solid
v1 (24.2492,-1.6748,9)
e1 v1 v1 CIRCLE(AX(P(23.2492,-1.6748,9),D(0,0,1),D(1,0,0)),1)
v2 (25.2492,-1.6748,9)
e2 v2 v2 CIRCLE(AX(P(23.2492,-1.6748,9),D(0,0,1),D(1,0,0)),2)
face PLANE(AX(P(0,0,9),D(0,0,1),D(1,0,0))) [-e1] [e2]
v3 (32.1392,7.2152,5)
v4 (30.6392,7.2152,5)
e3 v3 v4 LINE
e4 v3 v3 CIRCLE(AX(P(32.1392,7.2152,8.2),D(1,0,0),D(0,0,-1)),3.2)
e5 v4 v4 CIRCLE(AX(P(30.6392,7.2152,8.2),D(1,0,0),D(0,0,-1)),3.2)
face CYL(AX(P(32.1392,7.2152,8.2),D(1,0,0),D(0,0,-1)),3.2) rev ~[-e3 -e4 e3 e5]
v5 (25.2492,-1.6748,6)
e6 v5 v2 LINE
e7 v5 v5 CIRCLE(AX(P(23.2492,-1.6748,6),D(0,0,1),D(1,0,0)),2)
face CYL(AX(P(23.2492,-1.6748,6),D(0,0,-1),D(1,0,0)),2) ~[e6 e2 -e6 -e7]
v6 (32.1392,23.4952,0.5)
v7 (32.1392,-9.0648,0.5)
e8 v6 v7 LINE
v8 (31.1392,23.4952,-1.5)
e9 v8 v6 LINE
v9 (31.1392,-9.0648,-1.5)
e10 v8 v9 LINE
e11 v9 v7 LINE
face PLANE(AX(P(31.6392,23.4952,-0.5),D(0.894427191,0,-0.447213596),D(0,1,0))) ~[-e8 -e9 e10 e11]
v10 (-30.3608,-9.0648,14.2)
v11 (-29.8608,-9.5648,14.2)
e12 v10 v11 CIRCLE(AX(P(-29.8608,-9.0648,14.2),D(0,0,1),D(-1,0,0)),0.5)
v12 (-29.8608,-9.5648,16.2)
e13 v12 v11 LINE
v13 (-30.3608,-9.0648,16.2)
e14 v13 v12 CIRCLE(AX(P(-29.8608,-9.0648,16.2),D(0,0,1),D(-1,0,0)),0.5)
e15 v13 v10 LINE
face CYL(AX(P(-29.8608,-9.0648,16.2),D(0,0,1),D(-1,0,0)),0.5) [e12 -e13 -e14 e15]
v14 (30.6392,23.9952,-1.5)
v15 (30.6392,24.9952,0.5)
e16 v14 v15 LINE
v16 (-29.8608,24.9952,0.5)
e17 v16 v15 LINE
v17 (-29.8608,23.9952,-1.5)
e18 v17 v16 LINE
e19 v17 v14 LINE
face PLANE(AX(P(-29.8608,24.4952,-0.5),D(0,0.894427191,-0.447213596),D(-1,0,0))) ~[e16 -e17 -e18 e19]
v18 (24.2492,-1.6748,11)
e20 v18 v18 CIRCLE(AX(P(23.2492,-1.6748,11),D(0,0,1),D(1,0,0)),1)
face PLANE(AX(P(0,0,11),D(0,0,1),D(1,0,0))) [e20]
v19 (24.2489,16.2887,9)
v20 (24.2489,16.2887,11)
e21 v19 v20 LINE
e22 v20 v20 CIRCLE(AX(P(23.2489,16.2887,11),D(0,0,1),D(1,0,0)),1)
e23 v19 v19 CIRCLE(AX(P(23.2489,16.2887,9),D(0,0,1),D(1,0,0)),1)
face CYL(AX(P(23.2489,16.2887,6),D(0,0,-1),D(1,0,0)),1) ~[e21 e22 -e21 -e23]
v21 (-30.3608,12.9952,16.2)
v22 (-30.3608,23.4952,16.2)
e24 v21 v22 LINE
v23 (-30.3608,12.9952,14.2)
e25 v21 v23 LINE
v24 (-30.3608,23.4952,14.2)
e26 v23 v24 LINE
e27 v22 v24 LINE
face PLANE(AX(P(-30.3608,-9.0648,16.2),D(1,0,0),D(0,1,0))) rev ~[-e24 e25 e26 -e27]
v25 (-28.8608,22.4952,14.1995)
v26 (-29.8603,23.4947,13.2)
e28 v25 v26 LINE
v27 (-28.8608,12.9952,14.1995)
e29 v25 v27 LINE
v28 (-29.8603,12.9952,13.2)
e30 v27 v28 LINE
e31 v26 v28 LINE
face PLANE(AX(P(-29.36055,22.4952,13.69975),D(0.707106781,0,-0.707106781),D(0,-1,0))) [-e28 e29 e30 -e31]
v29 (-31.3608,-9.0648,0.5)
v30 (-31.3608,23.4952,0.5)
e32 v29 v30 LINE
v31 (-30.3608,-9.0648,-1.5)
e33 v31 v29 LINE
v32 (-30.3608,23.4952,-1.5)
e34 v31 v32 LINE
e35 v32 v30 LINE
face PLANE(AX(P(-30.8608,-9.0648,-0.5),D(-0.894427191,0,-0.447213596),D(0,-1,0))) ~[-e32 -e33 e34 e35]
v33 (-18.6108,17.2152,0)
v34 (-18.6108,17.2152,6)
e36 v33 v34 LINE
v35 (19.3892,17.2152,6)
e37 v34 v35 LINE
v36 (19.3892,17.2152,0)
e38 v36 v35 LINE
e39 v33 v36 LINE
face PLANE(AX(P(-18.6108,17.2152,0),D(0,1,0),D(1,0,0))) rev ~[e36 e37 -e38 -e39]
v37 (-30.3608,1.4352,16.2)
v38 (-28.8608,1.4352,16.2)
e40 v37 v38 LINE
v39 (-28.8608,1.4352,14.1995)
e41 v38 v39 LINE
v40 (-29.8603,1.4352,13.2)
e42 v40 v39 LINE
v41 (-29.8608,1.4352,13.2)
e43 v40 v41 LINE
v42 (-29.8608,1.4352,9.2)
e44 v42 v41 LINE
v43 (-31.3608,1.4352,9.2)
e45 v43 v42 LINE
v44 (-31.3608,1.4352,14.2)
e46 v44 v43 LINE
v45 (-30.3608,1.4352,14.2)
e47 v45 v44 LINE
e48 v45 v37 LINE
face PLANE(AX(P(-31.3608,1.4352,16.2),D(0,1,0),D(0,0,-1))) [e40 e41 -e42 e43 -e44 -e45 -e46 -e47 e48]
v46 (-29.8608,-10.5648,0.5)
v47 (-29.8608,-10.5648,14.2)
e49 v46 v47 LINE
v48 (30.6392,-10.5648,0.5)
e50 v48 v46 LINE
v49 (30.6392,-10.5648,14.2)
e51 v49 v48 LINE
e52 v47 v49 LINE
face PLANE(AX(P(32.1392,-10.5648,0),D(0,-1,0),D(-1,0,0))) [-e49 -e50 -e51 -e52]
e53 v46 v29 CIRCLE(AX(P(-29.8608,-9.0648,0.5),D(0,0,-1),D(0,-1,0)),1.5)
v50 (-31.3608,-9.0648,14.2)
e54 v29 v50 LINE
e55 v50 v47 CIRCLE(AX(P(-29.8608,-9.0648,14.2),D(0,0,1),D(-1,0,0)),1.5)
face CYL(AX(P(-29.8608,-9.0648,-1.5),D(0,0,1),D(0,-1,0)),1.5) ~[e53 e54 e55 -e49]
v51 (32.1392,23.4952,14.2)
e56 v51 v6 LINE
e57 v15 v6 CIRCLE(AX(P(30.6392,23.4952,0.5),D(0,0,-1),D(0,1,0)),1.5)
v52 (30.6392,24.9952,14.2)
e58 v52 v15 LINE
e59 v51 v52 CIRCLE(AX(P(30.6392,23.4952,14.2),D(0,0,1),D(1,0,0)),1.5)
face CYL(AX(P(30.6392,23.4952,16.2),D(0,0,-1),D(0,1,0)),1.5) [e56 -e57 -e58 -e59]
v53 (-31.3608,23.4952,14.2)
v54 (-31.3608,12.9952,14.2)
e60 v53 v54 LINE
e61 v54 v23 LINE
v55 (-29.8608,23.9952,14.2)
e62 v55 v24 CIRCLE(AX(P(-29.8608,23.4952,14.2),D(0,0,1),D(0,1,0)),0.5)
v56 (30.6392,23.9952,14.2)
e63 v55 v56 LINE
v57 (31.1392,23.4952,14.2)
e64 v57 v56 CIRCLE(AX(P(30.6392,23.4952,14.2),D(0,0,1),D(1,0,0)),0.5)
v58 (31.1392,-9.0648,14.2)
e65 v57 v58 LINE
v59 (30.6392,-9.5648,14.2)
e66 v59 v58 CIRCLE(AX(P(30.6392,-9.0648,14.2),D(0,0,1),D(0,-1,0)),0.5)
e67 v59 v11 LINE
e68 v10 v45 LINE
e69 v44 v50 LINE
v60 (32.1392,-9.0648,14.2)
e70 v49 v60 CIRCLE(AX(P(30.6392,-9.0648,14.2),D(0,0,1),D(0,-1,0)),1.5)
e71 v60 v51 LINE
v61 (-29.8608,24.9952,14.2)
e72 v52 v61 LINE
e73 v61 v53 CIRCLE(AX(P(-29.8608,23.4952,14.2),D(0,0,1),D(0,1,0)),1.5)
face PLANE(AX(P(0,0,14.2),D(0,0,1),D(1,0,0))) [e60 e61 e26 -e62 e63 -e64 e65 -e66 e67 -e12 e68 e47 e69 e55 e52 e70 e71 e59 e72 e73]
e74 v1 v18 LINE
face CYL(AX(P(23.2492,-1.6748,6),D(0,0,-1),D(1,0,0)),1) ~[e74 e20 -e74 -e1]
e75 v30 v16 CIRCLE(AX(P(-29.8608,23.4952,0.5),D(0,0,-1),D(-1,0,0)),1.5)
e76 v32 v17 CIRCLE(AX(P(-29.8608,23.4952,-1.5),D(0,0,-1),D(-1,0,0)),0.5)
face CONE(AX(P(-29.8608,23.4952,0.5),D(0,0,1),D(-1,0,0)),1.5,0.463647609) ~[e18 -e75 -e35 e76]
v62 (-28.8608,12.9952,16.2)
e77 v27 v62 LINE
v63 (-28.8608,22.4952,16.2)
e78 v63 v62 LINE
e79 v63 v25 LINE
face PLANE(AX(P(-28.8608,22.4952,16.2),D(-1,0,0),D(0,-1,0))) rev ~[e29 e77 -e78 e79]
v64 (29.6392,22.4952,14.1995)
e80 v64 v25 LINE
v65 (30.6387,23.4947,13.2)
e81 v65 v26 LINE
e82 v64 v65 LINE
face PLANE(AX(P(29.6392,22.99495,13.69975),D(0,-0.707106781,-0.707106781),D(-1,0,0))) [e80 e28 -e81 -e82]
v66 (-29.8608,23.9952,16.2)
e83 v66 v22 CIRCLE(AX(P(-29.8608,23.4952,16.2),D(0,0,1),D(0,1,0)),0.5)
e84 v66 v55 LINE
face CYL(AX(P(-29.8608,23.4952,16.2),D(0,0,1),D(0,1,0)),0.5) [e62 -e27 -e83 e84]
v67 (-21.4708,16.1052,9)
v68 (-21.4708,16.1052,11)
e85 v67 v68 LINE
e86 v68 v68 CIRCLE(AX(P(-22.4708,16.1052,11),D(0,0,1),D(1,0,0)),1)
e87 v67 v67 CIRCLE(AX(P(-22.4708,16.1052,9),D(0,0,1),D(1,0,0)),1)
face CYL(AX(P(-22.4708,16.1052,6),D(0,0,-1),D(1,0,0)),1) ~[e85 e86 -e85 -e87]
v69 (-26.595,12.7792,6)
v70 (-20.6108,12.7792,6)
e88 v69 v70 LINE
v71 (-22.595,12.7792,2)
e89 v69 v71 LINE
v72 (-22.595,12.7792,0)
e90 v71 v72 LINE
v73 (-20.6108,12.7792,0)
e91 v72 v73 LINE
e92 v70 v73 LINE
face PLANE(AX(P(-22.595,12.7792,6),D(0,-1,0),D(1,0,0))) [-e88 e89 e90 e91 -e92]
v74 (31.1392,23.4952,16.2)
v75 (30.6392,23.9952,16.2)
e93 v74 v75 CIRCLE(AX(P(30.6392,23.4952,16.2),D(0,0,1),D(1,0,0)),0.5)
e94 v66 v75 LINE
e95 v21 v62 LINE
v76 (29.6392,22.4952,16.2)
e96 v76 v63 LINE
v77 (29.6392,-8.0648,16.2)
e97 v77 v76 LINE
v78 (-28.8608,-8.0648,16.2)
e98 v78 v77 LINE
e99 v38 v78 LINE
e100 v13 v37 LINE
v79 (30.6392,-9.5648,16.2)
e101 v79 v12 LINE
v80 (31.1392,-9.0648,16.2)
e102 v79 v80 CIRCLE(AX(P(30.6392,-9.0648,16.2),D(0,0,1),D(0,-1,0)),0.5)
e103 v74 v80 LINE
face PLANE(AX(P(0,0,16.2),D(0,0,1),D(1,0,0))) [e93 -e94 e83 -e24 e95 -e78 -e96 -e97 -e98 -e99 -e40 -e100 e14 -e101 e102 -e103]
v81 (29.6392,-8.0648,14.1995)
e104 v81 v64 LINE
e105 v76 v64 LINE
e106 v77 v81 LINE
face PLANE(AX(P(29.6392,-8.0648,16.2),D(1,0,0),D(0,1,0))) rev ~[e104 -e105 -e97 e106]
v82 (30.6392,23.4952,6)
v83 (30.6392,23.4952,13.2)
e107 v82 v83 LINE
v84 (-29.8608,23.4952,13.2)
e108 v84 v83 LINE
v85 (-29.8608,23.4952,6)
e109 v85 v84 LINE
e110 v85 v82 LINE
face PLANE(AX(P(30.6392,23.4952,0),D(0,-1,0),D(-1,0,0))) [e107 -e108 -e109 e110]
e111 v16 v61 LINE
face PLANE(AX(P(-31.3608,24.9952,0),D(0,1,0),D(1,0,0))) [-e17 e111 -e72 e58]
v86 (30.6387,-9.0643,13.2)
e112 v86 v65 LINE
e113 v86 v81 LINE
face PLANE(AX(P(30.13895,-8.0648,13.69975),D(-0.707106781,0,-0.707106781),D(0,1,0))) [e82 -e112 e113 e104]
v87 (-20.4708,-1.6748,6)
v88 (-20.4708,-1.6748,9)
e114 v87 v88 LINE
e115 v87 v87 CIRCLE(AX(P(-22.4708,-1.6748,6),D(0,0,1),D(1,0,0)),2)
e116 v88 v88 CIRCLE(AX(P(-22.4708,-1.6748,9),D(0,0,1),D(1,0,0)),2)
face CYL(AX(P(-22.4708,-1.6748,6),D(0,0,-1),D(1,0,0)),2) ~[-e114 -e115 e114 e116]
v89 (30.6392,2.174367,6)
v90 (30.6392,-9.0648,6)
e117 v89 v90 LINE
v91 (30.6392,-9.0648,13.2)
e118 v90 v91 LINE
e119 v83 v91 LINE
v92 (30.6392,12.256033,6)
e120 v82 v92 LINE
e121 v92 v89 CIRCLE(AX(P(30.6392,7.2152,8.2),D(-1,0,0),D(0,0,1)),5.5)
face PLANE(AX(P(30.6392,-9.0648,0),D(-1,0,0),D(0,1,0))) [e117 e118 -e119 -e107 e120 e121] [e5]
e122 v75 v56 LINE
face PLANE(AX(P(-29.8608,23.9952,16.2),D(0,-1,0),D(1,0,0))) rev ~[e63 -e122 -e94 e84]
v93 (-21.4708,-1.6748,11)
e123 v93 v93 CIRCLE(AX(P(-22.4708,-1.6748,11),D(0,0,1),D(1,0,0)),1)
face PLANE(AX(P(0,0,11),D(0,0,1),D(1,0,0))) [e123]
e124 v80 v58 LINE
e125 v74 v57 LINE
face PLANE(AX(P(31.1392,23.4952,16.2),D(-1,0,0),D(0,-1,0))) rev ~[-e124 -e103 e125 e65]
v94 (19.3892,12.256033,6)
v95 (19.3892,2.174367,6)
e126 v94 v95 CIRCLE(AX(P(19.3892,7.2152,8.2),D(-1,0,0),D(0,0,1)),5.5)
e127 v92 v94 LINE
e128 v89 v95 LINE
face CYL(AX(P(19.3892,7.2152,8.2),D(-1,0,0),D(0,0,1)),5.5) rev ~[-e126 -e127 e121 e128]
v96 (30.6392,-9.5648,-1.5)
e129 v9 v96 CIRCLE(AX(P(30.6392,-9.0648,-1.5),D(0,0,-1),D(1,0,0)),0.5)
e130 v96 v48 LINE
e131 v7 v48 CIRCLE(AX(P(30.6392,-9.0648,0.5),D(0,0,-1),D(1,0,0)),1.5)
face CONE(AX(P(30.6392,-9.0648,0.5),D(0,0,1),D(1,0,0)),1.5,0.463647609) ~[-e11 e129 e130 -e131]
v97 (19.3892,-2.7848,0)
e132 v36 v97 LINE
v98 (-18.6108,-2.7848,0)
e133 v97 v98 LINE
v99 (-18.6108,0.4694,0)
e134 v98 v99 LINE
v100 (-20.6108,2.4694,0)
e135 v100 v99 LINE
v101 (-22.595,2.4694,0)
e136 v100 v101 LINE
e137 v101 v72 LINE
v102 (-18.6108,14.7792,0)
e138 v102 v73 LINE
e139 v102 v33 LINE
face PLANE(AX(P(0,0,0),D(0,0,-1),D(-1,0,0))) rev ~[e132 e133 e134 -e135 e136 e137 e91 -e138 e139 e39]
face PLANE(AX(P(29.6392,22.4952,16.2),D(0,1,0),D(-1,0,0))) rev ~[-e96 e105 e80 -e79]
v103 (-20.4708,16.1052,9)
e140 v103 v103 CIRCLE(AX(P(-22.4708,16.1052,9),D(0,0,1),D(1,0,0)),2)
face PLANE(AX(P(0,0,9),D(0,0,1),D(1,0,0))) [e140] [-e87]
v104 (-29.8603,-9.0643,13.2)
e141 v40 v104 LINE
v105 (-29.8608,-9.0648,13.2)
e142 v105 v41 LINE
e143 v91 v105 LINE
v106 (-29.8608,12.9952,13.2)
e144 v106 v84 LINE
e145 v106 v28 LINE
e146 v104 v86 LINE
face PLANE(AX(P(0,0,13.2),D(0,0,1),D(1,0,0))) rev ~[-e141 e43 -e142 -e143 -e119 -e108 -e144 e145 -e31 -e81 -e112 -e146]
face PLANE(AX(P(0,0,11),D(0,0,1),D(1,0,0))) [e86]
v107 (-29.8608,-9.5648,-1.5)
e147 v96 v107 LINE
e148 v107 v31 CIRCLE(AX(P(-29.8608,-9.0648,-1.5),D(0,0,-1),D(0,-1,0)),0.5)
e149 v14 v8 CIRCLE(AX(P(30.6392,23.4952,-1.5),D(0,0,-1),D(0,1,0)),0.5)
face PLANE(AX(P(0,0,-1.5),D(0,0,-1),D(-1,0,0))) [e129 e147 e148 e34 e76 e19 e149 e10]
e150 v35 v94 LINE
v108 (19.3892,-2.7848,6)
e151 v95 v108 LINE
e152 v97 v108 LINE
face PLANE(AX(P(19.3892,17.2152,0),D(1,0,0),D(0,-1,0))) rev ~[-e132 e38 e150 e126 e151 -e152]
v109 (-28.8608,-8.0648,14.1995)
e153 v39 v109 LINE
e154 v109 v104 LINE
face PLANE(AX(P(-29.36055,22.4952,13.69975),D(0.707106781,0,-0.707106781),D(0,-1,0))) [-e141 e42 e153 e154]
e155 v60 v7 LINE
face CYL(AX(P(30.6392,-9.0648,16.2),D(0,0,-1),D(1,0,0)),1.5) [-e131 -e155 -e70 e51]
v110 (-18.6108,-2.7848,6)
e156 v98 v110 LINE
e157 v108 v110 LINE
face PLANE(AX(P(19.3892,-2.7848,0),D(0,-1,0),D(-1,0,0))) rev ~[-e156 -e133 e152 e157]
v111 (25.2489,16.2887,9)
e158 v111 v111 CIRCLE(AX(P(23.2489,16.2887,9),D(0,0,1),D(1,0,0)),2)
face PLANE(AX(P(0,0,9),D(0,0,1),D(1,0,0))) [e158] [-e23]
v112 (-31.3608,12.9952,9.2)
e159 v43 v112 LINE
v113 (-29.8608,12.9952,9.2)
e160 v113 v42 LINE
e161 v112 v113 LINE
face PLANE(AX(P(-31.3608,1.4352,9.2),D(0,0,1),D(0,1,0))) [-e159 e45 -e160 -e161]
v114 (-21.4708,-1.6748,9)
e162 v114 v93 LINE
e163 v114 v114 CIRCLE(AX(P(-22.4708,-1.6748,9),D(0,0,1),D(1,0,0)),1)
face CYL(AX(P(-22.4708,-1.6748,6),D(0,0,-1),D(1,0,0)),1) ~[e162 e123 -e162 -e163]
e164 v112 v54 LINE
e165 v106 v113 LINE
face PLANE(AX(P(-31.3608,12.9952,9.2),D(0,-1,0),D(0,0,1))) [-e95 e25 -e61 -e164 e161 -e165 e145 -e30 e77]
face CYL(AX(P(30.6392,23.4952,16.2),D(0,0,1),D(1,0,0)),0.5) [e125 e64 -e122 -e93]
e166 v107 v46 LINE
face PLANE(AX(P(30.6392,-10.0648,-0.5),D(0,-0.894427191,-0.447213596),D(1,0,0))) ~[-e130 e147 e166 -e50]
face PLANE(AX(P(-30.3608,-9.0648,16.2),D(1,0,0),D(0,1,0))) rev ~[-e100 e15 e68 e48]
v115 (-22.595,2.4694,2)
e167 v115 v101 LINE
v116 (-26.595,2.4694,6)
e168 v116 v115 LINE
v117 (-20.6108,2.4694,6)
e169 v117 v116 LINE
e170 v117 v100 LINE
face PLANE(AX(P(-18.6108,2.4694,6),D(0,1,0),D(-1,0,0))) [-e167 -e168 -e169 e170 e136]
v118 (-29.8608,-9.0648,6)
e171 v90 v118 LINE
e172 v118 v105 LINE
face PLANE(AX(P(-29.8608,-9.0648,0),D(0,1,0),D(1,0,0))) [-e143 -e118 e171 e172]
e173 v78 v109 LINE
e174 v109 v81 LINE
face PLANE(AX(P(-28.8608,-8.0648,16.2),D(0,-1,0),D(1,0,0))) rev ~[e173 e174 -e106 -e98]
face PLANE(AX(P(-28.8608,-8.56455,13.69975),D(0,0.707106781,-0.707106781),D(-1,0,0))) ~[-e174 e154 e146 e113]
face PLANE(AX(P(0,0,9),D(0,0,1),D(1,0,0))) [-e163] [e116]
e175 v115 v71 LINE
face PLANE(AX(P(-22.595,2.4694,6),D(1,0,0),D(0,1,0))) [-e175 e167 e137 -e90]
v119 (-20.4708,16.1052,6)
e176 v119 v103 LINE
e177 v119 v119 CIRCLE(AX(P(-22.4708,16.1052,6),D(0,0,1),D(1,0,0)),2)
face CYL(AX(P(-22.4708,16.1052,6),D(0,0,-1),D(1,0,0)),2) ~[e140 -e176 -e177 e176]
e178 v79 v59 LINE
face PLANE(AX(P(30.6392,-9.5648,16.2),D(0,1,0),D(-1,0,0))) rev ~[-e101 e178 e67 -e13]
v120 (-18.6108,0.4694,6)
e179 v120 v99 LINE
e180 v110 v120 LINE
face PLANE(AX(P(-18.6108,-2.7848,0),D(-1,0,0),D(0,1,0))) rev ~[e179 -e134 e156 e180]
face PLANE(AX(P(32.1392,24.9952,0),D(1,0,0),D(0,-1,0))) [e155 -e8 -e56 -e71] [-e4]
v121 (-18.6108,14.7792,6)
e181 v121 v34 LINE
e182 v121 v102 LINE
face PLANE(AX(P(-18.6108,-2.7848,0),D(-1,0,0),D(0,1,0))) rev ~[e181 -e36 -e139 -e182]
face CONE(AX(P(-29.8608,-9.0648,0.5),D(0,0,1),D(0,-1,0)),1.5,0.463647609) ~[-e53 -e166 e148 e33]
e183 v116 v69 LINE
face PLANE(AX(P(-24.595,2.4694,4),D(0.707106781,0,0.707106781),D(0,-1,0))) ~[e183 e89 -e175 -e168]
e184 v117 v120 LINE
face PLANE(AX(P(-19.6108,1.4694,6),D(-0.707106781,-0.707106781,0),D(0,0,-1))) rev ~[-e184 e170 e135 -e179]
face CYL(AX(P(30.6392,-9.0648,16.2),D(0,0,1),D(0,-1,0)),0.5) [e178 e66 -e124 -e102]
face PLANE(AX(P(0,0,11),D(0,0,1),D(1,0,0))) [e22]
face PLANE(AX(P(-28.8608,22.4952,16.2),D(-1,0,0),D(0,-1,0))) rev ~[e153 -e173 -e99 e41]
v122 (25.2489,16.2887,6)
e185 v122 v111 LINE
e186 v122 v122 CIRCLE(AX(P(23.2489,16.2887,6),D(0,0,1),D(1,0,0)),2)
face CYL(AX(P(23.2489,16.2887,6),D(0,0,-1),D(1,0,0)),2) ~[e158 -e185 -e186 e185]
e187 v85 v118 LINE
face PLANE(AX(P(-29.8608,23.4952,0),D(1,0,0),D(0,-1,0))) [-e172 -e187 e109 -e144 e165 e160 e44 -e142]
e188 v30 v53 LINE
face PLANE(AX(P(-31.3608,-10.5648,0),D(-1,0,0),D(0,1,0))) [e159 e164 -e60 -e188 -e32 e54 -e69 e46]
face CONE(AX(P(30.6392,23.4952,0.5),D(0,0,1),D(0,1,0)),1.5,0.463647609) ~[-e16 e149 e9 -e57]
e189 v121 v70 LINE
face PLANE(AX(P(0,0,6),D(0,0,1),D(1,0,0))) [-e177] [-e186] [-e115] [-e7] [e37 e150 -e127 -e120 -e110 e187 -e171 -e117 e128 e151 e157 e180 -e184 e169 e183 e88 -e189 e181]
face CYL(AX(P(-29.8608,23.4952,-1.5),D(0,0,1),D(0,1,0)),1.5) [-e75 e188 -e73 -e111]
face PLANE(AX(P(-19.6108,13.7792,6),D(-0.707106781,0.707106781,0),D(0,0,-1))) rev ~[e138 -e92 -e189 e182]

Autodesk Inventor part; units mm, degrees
ref_plane "YZ Plane" through (0, 0, 0) normal (1, 0, 0) x (0, 1, 0)
ref_plane "XZ Plane" through (0, 0, 0) normal (0, 1, 0) x (-1, 0, 0)
ref_plane "XY Plane" through (0, 0, 0) normal (0, 0, 1) x (1, 0, 0)
sketch "Sketch1" plane through (0, 0, 0) normal (0, 0, 1) x (1, 0, 0)
  line L0 (-31.3608, 24.9952) -> (32.1392, 24.9952)
  line L1 (32.1392, 24.9952) -> (32.1392, -10.5648)
  line L2 (32.1392, -10.5648) -> (-31.3608, -10.5648)
  line L3 (-31.3608, -10.5648) -> (-31.3608, 24.9952)
  line L4 (30.6392, 23.4952) -> (-29.8608, 23.4952)
  line L5 (-29.8608, 23.4952) -> (-29.8608, -9.0648)
  line L6 (-29.8608, -9.0648) -> (30.6392, -9.0648)
  line L7 (30.6392, -9.0648) -> (30.6392, 23.4952)
  point P0 (0, 0)
  dimension "d0" = 63.5
  dimension "d1" = 35.56
  dimension "d2" = 1.5
extrude "Extrusion1" add sketch "Sketch1" along normal blind 16.2
sketch "Sketch2" plane through (0, 0, 0) normal (0, 0, -1) x (-1, 0, 0)
  line L0 (-32.1392, -10.5648) -> (31.3608, -10.5648) projected
  line L1 (31.3608, -10.5648) -> (31.3608, 24.9952) projected
  line L2 (31.3608, 24.9952) -> (-32.1392, 24.9952) projected
  line L3 (-32.1392, 24.9952) -> (-32.1392, -10.5648) projected
  point P0 (0, 0)
extrude "Extrusion2" add sketch "Sketch2" along normal blind 1.5
sketch "Sketch3" plane through (0, 0, 0) normal (0, 0, 1) x (1, 0, 0)
  line L0 (-18.6108, 17.2152) -> (19.3892, 17.2152)
  line L1 (19.3892, 17.2152) -> (19.3892, -2.7848)
  line L2 (19.3892, -2.7848) -> (-18.6108, -2.7848)
  line L3 (-18.6108, -2.7848) -> (-18.6108, 17.2152)
  line L4 (30.6392, -9.0648) -> (-29.8608, -9.0648) projected
  line L5 (-29.8608, 23.4952) -> (30.6392, 23.4952) projected
  line L6 (30.6392, 23.4952) -> (30.6392, -9.0648) projected
  line L7 (30.6392, -9.0648) -> (30.6392, 23.4952) projected
  line L8 (30.6392, 23.4952) -> (-29.8608, 23.4952) projected
  line L9 (-29.8608, 23.4952) -> (-29.8608, -9.0648) projected
  line L10 (-29.8608, -9.0648) -> (30.6392, -9.0648) projected
  point P0 (0, 0)
  dimension "d7" = 38
  dimension "d8" = 20
  dimension "d9" = 6.28
  dimension "d10" = 32.56
  dimension "d11" = 11.25
  dimension "d12" = 60.5
extrude "Extrusion3" add sketch "Sketch3" along normal blind 6
sketch "Sketch4" plane through (0, 0, 6) normal (0, 0, 1) x (1, 0, 0)
  circle A0 centre (-22.4708, 16.1052) radius 1
  circle A1 centre (-22.4708, -1.6748) radius 1
  circle A2 centre (23.2492, -1.6748) radius 1
  circle A3 centre (23.2489, 16.2887) radius 1
  line L0 (30.6392, -9.0648) -> (-29.8608, -9.0648) projected
  line L1 (-29.8608, 23.4952) -> (30.6392, 23.4952) projected
  line L2 (-29.8608, -9.0648) -> (-29.8608, 23.4952) projected
  point P0 (0, 0)
  dimension "d15" = 2
  dimension "d16" = 2
  dimension "d17" = 2
  dimension "d18" = 2
  dimension "d19" = 45.72
  dimension "d20" = 45.72
  dimension "d21" = 17.78
  dimension "d22" = 7.39
  dimension "d23" = 32.56
  dimension "d24" = 60.5
  dimension "d25" = 7.39
  dimension "d26" = 0
extrude "Extrusion4" add sketch "Sketch4" along normal blind 5
sketch "Sketch5" plane through (0, 0, 6) normal (0, 0, 1) x (1, 0, 0)
  circle A0 centre (-22.4708, 16.1052) radius 1 projected
  circle A1 centre (-22.4708, -1.6748) radius 1 projected
  circle A2 centre (23.2492, -1.6748) radius 1 projected
  circle A3 centre (23.2489, 16.2887) radius 1 projected
  circle A4 centre (-22.4708, 16.1052) radius 2
  circle A5 centre (-22.4708, -1.6748) radius 2
  circle A6 centre (23.2492, -1.6748) radius 2
  circle A7 centre (23.2489, 16.2887) radius 2
  point P0 (0, 0)
  dimension "d29" = 1
  dimension "d30" = 1
  dimension "d31" = 1
  dimension "d32" = 1
extrude "Extrusion5" add sketch "Sketch5" along normal blind 3
fillet "Fillet1" radius 1.5 4 edges at (-31.3608, -10.5648, 7.35) (32.1392, -10.5648, 7.35) (32.1392, 24.9952, 7.35) (-31.3608, 24.9952, 7.35)
sketch "Sketch6" plane through (32.1392, -9.0648, 16.2) normal (1, 0, 0) x (0, 0, -1)
  circle A0 centre (8, 16.28) radius 3.2
  line L0 (0, 0) -> (0, 32.56) projected
  line L1 (0, -1.5) -> (17.7, -1.5) projected
  line L2 (17.7, 34.06) -> (0, 34.06) projected
  point P0 (16.2, 9.0648)
  dimension "d36" = 6.4
  dimension "d37" = 8
  dimension "d38" = 17.78
  dimension "d39" = 35.56
extrude "Extrusion6" cut sketch "Sketch6" against normal up to surface (12.75 mm away)
sketch "Sketch7" plane through (19.3892, -2.7848, 0) normal (-1, 0, 0) x (0, 0, 1)
  arc A0 (6, 12.3238) -> (6, 7.6762) centre (8.2, 10) ccw projected
  circle A1 centre (8.2, 10) radius 5.5
  point P0 (0, 2.7848)
  dimension "d42" = 11
extrude "Extrusion7" cut sketch "Sketch7" against normal up to surface (11.25 mm away)
sketch "Sketch8" plane through (0, 0, 6) normal (0, 0, 1) x (1, 0, 0)
  line L0 (-18.6108, -2.7848) -> (-18.6108, 17.2152) projected
  line L1 (-18.6108, 2.4694) -> (-22.595, 2.4694)
  line L2 (-22.595, 2.4694) -> (-22.595, 12.7792)
  line L3 (-22.595, 12.7792) -> (-18.6108, 12.7792)
  line L4 (-18.6108, 12.7792) -> (-18.6108, 2.4694)
  point P0 (0, 0)
extrude "Extrusion8" cut sketch "Sketch8" against normal up to surface (6 mm away)
chamfer "Chamfer1" distance 2 angle 45 2 edges at (-18.6108, 2.4694, 3) (-18.6108, 12.7792, 3)
chamfer "Chamfer2" distance 4 angle 45 1 edges at (-22.595, 7.6243, 6)
sketch "Sketch9" plane through (0, 0, 16.2) normal (0, 0, 1) x (1, 0, 0)
  line L0 (-29.8608, 23.4952) -> (30.6392, 23.4952) projected
  line L1 (-29.8608, -9.0648) -> (-29.8608, 23.4952) projected
  line L2 (30.6392, -9.0648) -> (-29.8608, -9.0648) projected
  line L3 (30.6392, 23.4952) -> (30.6392, -9.0648) projected
  line L4 (29.6392, 22.4952) -> (-28.8608, 22.4952)
  line L5 (-28.8608, 22.4952) -> (-28.8608, -8.0648)
  line L6 (-28.8608, -8.0648) -> (29.6392, -8.0648)
  line L7 (29.6392, -8.0648) -> (29.6392, 22.4952)
  point P0 (0, 0)
  dimension "d53" = 1
extrude "Extrusion9" add sketch "Sketch9" against normal blind 3
chamfer "Chamfer3" distance 1 angle 45 4 edges at (-28.8608, 7.2152, 13.2) (0.3892, 22.4952, 13.2) (0.3892, -8.0648, 13.2) (29.6392, 7.2152, 13.2)
sketch "Sketch10" plane through (0, 0, 16.2) normal (0, 0, 1) x (1, 0, 0)
  line L0 (30.6392, 24.9952) -> (-29.8608, 24.9952) projected
  arc A0 (-29.8608, 24.9952) -> (-31.3608, 23.4952) centre (-29.8608, 23.4952) ccw projected
  line L1 (-31.3608, 23.4952) -> (-31.3608, -9.0648) projected
  arc A1 (-31.3608, -9.0648) -> (-29.8608, -10.5648) centre (-29.8608, -9.0648) ccw projected
  line L2 (-29.8608, -10.5648) -> (30.6392, -10.5648) projected
  arc A2 (30.6392, -10.5648) -> (32.1392, -9.0648) centre (30.6392, -9.0648) ccw projected
  line L3 (32.1392, -9.0648) -> (32.1392, 23.4952) projected
  arc A3 (32.1392, 23.4952) -> (30.6392, 24.9952) centre (30.6392, 23.4952) ccw projected
  line L4 (-29.8608, 23.9952) -> (30.6392, 23.9952)
  arc A4 (31.1392, 23.4952) -> (30.6392, 23.9952) centre (30.6392, 23.4952) ccw
  line L5 (31.1392, 23.4952) -> (31.1392, -9.0648)
  arc A5 (30.6392, -9.5648) -> (31.1392, -9.0648) centre (30.6392, -9.0648) ccw
  line L6 (30.6392, -9.5648) -> (-29.8608, -9.5648)
  arc A6 (-30.3608, -9.0648) -> (-29.8608, -9.5648) centre (-29.8608, -9.0648) ccw
  line L7 (-30.3608, -9.0648) -> (-30.3608, 23.4952)
  arc A7 (-29.8608, 23.9952) -> (-30.3608, 23.4952) centre (-29.8608, 23.4952) ccw
  point P0 (0, 0)
  dimension "d59" = 1
extrude "Extrusion10" cut sketch "Sketch10" against normal blind 2
sketch "Sketch11" plane through (-31.3608, -9.0648, -1.5) normal (-1, 0, 0) x (0, 0, 1)
  line L0 (17.7, 32.56) -> (17.7, 0) projected
  line L1 (10.7, 22.06) -> (17.7, 22.06)
  line L2 (17.7, 22.06) -> (17.7, 10.5)
  line L3 (17.7, 10.5) -> (10.7, 10.5)
  line L4 (10.7, 10.5) -> (10.7, 22.06)
  line L5 (15.7, 34.06) -> (0, 34.06) projected
  line L6 (0, -1.5) -> (15.7, -1.5) projected
  point P0 (1.5, 9.0648)
  dimension "d62" = 12
  dimension "d63" = 12
  dimension "d64" = 7
extrude "Extrusion11" cut sketch "Sketch11" against normal up to surface (2.5 mm away)
chamfer "Chamfer4" distance 1 distance2 2 8 edges at (0.3892, -10.5648, -1.5) (-30.9214, -10.1255, -1.5) (-31.3608, 7.2152, -1.5) (-30.9214, 24.5559, -1.5) (0.3892, 24.9952, -1.5) (31.6999, 24.5559, -1.5) (32.1392, 7.2152, -1.5) (31.6999, -10.1255, -1.5) measured on face at (-9.6941, 13.1419, -1.5)
equation "\"d9\" = -0.5 * d8 + 0.5 * d10"
equation "\"d11\" = -0.5 * d7 + 0.5 * d12"
equation "\"d20\" = d19"
equation "\"d22\" = -0.5 * d21 + 0.5 * d23"
equation "\"d25\" = -0.5 * d19 + 0.5 * d24"
equation "\"d38\" = 0.5 * d39"
properties part number "NodeEnclosure"
